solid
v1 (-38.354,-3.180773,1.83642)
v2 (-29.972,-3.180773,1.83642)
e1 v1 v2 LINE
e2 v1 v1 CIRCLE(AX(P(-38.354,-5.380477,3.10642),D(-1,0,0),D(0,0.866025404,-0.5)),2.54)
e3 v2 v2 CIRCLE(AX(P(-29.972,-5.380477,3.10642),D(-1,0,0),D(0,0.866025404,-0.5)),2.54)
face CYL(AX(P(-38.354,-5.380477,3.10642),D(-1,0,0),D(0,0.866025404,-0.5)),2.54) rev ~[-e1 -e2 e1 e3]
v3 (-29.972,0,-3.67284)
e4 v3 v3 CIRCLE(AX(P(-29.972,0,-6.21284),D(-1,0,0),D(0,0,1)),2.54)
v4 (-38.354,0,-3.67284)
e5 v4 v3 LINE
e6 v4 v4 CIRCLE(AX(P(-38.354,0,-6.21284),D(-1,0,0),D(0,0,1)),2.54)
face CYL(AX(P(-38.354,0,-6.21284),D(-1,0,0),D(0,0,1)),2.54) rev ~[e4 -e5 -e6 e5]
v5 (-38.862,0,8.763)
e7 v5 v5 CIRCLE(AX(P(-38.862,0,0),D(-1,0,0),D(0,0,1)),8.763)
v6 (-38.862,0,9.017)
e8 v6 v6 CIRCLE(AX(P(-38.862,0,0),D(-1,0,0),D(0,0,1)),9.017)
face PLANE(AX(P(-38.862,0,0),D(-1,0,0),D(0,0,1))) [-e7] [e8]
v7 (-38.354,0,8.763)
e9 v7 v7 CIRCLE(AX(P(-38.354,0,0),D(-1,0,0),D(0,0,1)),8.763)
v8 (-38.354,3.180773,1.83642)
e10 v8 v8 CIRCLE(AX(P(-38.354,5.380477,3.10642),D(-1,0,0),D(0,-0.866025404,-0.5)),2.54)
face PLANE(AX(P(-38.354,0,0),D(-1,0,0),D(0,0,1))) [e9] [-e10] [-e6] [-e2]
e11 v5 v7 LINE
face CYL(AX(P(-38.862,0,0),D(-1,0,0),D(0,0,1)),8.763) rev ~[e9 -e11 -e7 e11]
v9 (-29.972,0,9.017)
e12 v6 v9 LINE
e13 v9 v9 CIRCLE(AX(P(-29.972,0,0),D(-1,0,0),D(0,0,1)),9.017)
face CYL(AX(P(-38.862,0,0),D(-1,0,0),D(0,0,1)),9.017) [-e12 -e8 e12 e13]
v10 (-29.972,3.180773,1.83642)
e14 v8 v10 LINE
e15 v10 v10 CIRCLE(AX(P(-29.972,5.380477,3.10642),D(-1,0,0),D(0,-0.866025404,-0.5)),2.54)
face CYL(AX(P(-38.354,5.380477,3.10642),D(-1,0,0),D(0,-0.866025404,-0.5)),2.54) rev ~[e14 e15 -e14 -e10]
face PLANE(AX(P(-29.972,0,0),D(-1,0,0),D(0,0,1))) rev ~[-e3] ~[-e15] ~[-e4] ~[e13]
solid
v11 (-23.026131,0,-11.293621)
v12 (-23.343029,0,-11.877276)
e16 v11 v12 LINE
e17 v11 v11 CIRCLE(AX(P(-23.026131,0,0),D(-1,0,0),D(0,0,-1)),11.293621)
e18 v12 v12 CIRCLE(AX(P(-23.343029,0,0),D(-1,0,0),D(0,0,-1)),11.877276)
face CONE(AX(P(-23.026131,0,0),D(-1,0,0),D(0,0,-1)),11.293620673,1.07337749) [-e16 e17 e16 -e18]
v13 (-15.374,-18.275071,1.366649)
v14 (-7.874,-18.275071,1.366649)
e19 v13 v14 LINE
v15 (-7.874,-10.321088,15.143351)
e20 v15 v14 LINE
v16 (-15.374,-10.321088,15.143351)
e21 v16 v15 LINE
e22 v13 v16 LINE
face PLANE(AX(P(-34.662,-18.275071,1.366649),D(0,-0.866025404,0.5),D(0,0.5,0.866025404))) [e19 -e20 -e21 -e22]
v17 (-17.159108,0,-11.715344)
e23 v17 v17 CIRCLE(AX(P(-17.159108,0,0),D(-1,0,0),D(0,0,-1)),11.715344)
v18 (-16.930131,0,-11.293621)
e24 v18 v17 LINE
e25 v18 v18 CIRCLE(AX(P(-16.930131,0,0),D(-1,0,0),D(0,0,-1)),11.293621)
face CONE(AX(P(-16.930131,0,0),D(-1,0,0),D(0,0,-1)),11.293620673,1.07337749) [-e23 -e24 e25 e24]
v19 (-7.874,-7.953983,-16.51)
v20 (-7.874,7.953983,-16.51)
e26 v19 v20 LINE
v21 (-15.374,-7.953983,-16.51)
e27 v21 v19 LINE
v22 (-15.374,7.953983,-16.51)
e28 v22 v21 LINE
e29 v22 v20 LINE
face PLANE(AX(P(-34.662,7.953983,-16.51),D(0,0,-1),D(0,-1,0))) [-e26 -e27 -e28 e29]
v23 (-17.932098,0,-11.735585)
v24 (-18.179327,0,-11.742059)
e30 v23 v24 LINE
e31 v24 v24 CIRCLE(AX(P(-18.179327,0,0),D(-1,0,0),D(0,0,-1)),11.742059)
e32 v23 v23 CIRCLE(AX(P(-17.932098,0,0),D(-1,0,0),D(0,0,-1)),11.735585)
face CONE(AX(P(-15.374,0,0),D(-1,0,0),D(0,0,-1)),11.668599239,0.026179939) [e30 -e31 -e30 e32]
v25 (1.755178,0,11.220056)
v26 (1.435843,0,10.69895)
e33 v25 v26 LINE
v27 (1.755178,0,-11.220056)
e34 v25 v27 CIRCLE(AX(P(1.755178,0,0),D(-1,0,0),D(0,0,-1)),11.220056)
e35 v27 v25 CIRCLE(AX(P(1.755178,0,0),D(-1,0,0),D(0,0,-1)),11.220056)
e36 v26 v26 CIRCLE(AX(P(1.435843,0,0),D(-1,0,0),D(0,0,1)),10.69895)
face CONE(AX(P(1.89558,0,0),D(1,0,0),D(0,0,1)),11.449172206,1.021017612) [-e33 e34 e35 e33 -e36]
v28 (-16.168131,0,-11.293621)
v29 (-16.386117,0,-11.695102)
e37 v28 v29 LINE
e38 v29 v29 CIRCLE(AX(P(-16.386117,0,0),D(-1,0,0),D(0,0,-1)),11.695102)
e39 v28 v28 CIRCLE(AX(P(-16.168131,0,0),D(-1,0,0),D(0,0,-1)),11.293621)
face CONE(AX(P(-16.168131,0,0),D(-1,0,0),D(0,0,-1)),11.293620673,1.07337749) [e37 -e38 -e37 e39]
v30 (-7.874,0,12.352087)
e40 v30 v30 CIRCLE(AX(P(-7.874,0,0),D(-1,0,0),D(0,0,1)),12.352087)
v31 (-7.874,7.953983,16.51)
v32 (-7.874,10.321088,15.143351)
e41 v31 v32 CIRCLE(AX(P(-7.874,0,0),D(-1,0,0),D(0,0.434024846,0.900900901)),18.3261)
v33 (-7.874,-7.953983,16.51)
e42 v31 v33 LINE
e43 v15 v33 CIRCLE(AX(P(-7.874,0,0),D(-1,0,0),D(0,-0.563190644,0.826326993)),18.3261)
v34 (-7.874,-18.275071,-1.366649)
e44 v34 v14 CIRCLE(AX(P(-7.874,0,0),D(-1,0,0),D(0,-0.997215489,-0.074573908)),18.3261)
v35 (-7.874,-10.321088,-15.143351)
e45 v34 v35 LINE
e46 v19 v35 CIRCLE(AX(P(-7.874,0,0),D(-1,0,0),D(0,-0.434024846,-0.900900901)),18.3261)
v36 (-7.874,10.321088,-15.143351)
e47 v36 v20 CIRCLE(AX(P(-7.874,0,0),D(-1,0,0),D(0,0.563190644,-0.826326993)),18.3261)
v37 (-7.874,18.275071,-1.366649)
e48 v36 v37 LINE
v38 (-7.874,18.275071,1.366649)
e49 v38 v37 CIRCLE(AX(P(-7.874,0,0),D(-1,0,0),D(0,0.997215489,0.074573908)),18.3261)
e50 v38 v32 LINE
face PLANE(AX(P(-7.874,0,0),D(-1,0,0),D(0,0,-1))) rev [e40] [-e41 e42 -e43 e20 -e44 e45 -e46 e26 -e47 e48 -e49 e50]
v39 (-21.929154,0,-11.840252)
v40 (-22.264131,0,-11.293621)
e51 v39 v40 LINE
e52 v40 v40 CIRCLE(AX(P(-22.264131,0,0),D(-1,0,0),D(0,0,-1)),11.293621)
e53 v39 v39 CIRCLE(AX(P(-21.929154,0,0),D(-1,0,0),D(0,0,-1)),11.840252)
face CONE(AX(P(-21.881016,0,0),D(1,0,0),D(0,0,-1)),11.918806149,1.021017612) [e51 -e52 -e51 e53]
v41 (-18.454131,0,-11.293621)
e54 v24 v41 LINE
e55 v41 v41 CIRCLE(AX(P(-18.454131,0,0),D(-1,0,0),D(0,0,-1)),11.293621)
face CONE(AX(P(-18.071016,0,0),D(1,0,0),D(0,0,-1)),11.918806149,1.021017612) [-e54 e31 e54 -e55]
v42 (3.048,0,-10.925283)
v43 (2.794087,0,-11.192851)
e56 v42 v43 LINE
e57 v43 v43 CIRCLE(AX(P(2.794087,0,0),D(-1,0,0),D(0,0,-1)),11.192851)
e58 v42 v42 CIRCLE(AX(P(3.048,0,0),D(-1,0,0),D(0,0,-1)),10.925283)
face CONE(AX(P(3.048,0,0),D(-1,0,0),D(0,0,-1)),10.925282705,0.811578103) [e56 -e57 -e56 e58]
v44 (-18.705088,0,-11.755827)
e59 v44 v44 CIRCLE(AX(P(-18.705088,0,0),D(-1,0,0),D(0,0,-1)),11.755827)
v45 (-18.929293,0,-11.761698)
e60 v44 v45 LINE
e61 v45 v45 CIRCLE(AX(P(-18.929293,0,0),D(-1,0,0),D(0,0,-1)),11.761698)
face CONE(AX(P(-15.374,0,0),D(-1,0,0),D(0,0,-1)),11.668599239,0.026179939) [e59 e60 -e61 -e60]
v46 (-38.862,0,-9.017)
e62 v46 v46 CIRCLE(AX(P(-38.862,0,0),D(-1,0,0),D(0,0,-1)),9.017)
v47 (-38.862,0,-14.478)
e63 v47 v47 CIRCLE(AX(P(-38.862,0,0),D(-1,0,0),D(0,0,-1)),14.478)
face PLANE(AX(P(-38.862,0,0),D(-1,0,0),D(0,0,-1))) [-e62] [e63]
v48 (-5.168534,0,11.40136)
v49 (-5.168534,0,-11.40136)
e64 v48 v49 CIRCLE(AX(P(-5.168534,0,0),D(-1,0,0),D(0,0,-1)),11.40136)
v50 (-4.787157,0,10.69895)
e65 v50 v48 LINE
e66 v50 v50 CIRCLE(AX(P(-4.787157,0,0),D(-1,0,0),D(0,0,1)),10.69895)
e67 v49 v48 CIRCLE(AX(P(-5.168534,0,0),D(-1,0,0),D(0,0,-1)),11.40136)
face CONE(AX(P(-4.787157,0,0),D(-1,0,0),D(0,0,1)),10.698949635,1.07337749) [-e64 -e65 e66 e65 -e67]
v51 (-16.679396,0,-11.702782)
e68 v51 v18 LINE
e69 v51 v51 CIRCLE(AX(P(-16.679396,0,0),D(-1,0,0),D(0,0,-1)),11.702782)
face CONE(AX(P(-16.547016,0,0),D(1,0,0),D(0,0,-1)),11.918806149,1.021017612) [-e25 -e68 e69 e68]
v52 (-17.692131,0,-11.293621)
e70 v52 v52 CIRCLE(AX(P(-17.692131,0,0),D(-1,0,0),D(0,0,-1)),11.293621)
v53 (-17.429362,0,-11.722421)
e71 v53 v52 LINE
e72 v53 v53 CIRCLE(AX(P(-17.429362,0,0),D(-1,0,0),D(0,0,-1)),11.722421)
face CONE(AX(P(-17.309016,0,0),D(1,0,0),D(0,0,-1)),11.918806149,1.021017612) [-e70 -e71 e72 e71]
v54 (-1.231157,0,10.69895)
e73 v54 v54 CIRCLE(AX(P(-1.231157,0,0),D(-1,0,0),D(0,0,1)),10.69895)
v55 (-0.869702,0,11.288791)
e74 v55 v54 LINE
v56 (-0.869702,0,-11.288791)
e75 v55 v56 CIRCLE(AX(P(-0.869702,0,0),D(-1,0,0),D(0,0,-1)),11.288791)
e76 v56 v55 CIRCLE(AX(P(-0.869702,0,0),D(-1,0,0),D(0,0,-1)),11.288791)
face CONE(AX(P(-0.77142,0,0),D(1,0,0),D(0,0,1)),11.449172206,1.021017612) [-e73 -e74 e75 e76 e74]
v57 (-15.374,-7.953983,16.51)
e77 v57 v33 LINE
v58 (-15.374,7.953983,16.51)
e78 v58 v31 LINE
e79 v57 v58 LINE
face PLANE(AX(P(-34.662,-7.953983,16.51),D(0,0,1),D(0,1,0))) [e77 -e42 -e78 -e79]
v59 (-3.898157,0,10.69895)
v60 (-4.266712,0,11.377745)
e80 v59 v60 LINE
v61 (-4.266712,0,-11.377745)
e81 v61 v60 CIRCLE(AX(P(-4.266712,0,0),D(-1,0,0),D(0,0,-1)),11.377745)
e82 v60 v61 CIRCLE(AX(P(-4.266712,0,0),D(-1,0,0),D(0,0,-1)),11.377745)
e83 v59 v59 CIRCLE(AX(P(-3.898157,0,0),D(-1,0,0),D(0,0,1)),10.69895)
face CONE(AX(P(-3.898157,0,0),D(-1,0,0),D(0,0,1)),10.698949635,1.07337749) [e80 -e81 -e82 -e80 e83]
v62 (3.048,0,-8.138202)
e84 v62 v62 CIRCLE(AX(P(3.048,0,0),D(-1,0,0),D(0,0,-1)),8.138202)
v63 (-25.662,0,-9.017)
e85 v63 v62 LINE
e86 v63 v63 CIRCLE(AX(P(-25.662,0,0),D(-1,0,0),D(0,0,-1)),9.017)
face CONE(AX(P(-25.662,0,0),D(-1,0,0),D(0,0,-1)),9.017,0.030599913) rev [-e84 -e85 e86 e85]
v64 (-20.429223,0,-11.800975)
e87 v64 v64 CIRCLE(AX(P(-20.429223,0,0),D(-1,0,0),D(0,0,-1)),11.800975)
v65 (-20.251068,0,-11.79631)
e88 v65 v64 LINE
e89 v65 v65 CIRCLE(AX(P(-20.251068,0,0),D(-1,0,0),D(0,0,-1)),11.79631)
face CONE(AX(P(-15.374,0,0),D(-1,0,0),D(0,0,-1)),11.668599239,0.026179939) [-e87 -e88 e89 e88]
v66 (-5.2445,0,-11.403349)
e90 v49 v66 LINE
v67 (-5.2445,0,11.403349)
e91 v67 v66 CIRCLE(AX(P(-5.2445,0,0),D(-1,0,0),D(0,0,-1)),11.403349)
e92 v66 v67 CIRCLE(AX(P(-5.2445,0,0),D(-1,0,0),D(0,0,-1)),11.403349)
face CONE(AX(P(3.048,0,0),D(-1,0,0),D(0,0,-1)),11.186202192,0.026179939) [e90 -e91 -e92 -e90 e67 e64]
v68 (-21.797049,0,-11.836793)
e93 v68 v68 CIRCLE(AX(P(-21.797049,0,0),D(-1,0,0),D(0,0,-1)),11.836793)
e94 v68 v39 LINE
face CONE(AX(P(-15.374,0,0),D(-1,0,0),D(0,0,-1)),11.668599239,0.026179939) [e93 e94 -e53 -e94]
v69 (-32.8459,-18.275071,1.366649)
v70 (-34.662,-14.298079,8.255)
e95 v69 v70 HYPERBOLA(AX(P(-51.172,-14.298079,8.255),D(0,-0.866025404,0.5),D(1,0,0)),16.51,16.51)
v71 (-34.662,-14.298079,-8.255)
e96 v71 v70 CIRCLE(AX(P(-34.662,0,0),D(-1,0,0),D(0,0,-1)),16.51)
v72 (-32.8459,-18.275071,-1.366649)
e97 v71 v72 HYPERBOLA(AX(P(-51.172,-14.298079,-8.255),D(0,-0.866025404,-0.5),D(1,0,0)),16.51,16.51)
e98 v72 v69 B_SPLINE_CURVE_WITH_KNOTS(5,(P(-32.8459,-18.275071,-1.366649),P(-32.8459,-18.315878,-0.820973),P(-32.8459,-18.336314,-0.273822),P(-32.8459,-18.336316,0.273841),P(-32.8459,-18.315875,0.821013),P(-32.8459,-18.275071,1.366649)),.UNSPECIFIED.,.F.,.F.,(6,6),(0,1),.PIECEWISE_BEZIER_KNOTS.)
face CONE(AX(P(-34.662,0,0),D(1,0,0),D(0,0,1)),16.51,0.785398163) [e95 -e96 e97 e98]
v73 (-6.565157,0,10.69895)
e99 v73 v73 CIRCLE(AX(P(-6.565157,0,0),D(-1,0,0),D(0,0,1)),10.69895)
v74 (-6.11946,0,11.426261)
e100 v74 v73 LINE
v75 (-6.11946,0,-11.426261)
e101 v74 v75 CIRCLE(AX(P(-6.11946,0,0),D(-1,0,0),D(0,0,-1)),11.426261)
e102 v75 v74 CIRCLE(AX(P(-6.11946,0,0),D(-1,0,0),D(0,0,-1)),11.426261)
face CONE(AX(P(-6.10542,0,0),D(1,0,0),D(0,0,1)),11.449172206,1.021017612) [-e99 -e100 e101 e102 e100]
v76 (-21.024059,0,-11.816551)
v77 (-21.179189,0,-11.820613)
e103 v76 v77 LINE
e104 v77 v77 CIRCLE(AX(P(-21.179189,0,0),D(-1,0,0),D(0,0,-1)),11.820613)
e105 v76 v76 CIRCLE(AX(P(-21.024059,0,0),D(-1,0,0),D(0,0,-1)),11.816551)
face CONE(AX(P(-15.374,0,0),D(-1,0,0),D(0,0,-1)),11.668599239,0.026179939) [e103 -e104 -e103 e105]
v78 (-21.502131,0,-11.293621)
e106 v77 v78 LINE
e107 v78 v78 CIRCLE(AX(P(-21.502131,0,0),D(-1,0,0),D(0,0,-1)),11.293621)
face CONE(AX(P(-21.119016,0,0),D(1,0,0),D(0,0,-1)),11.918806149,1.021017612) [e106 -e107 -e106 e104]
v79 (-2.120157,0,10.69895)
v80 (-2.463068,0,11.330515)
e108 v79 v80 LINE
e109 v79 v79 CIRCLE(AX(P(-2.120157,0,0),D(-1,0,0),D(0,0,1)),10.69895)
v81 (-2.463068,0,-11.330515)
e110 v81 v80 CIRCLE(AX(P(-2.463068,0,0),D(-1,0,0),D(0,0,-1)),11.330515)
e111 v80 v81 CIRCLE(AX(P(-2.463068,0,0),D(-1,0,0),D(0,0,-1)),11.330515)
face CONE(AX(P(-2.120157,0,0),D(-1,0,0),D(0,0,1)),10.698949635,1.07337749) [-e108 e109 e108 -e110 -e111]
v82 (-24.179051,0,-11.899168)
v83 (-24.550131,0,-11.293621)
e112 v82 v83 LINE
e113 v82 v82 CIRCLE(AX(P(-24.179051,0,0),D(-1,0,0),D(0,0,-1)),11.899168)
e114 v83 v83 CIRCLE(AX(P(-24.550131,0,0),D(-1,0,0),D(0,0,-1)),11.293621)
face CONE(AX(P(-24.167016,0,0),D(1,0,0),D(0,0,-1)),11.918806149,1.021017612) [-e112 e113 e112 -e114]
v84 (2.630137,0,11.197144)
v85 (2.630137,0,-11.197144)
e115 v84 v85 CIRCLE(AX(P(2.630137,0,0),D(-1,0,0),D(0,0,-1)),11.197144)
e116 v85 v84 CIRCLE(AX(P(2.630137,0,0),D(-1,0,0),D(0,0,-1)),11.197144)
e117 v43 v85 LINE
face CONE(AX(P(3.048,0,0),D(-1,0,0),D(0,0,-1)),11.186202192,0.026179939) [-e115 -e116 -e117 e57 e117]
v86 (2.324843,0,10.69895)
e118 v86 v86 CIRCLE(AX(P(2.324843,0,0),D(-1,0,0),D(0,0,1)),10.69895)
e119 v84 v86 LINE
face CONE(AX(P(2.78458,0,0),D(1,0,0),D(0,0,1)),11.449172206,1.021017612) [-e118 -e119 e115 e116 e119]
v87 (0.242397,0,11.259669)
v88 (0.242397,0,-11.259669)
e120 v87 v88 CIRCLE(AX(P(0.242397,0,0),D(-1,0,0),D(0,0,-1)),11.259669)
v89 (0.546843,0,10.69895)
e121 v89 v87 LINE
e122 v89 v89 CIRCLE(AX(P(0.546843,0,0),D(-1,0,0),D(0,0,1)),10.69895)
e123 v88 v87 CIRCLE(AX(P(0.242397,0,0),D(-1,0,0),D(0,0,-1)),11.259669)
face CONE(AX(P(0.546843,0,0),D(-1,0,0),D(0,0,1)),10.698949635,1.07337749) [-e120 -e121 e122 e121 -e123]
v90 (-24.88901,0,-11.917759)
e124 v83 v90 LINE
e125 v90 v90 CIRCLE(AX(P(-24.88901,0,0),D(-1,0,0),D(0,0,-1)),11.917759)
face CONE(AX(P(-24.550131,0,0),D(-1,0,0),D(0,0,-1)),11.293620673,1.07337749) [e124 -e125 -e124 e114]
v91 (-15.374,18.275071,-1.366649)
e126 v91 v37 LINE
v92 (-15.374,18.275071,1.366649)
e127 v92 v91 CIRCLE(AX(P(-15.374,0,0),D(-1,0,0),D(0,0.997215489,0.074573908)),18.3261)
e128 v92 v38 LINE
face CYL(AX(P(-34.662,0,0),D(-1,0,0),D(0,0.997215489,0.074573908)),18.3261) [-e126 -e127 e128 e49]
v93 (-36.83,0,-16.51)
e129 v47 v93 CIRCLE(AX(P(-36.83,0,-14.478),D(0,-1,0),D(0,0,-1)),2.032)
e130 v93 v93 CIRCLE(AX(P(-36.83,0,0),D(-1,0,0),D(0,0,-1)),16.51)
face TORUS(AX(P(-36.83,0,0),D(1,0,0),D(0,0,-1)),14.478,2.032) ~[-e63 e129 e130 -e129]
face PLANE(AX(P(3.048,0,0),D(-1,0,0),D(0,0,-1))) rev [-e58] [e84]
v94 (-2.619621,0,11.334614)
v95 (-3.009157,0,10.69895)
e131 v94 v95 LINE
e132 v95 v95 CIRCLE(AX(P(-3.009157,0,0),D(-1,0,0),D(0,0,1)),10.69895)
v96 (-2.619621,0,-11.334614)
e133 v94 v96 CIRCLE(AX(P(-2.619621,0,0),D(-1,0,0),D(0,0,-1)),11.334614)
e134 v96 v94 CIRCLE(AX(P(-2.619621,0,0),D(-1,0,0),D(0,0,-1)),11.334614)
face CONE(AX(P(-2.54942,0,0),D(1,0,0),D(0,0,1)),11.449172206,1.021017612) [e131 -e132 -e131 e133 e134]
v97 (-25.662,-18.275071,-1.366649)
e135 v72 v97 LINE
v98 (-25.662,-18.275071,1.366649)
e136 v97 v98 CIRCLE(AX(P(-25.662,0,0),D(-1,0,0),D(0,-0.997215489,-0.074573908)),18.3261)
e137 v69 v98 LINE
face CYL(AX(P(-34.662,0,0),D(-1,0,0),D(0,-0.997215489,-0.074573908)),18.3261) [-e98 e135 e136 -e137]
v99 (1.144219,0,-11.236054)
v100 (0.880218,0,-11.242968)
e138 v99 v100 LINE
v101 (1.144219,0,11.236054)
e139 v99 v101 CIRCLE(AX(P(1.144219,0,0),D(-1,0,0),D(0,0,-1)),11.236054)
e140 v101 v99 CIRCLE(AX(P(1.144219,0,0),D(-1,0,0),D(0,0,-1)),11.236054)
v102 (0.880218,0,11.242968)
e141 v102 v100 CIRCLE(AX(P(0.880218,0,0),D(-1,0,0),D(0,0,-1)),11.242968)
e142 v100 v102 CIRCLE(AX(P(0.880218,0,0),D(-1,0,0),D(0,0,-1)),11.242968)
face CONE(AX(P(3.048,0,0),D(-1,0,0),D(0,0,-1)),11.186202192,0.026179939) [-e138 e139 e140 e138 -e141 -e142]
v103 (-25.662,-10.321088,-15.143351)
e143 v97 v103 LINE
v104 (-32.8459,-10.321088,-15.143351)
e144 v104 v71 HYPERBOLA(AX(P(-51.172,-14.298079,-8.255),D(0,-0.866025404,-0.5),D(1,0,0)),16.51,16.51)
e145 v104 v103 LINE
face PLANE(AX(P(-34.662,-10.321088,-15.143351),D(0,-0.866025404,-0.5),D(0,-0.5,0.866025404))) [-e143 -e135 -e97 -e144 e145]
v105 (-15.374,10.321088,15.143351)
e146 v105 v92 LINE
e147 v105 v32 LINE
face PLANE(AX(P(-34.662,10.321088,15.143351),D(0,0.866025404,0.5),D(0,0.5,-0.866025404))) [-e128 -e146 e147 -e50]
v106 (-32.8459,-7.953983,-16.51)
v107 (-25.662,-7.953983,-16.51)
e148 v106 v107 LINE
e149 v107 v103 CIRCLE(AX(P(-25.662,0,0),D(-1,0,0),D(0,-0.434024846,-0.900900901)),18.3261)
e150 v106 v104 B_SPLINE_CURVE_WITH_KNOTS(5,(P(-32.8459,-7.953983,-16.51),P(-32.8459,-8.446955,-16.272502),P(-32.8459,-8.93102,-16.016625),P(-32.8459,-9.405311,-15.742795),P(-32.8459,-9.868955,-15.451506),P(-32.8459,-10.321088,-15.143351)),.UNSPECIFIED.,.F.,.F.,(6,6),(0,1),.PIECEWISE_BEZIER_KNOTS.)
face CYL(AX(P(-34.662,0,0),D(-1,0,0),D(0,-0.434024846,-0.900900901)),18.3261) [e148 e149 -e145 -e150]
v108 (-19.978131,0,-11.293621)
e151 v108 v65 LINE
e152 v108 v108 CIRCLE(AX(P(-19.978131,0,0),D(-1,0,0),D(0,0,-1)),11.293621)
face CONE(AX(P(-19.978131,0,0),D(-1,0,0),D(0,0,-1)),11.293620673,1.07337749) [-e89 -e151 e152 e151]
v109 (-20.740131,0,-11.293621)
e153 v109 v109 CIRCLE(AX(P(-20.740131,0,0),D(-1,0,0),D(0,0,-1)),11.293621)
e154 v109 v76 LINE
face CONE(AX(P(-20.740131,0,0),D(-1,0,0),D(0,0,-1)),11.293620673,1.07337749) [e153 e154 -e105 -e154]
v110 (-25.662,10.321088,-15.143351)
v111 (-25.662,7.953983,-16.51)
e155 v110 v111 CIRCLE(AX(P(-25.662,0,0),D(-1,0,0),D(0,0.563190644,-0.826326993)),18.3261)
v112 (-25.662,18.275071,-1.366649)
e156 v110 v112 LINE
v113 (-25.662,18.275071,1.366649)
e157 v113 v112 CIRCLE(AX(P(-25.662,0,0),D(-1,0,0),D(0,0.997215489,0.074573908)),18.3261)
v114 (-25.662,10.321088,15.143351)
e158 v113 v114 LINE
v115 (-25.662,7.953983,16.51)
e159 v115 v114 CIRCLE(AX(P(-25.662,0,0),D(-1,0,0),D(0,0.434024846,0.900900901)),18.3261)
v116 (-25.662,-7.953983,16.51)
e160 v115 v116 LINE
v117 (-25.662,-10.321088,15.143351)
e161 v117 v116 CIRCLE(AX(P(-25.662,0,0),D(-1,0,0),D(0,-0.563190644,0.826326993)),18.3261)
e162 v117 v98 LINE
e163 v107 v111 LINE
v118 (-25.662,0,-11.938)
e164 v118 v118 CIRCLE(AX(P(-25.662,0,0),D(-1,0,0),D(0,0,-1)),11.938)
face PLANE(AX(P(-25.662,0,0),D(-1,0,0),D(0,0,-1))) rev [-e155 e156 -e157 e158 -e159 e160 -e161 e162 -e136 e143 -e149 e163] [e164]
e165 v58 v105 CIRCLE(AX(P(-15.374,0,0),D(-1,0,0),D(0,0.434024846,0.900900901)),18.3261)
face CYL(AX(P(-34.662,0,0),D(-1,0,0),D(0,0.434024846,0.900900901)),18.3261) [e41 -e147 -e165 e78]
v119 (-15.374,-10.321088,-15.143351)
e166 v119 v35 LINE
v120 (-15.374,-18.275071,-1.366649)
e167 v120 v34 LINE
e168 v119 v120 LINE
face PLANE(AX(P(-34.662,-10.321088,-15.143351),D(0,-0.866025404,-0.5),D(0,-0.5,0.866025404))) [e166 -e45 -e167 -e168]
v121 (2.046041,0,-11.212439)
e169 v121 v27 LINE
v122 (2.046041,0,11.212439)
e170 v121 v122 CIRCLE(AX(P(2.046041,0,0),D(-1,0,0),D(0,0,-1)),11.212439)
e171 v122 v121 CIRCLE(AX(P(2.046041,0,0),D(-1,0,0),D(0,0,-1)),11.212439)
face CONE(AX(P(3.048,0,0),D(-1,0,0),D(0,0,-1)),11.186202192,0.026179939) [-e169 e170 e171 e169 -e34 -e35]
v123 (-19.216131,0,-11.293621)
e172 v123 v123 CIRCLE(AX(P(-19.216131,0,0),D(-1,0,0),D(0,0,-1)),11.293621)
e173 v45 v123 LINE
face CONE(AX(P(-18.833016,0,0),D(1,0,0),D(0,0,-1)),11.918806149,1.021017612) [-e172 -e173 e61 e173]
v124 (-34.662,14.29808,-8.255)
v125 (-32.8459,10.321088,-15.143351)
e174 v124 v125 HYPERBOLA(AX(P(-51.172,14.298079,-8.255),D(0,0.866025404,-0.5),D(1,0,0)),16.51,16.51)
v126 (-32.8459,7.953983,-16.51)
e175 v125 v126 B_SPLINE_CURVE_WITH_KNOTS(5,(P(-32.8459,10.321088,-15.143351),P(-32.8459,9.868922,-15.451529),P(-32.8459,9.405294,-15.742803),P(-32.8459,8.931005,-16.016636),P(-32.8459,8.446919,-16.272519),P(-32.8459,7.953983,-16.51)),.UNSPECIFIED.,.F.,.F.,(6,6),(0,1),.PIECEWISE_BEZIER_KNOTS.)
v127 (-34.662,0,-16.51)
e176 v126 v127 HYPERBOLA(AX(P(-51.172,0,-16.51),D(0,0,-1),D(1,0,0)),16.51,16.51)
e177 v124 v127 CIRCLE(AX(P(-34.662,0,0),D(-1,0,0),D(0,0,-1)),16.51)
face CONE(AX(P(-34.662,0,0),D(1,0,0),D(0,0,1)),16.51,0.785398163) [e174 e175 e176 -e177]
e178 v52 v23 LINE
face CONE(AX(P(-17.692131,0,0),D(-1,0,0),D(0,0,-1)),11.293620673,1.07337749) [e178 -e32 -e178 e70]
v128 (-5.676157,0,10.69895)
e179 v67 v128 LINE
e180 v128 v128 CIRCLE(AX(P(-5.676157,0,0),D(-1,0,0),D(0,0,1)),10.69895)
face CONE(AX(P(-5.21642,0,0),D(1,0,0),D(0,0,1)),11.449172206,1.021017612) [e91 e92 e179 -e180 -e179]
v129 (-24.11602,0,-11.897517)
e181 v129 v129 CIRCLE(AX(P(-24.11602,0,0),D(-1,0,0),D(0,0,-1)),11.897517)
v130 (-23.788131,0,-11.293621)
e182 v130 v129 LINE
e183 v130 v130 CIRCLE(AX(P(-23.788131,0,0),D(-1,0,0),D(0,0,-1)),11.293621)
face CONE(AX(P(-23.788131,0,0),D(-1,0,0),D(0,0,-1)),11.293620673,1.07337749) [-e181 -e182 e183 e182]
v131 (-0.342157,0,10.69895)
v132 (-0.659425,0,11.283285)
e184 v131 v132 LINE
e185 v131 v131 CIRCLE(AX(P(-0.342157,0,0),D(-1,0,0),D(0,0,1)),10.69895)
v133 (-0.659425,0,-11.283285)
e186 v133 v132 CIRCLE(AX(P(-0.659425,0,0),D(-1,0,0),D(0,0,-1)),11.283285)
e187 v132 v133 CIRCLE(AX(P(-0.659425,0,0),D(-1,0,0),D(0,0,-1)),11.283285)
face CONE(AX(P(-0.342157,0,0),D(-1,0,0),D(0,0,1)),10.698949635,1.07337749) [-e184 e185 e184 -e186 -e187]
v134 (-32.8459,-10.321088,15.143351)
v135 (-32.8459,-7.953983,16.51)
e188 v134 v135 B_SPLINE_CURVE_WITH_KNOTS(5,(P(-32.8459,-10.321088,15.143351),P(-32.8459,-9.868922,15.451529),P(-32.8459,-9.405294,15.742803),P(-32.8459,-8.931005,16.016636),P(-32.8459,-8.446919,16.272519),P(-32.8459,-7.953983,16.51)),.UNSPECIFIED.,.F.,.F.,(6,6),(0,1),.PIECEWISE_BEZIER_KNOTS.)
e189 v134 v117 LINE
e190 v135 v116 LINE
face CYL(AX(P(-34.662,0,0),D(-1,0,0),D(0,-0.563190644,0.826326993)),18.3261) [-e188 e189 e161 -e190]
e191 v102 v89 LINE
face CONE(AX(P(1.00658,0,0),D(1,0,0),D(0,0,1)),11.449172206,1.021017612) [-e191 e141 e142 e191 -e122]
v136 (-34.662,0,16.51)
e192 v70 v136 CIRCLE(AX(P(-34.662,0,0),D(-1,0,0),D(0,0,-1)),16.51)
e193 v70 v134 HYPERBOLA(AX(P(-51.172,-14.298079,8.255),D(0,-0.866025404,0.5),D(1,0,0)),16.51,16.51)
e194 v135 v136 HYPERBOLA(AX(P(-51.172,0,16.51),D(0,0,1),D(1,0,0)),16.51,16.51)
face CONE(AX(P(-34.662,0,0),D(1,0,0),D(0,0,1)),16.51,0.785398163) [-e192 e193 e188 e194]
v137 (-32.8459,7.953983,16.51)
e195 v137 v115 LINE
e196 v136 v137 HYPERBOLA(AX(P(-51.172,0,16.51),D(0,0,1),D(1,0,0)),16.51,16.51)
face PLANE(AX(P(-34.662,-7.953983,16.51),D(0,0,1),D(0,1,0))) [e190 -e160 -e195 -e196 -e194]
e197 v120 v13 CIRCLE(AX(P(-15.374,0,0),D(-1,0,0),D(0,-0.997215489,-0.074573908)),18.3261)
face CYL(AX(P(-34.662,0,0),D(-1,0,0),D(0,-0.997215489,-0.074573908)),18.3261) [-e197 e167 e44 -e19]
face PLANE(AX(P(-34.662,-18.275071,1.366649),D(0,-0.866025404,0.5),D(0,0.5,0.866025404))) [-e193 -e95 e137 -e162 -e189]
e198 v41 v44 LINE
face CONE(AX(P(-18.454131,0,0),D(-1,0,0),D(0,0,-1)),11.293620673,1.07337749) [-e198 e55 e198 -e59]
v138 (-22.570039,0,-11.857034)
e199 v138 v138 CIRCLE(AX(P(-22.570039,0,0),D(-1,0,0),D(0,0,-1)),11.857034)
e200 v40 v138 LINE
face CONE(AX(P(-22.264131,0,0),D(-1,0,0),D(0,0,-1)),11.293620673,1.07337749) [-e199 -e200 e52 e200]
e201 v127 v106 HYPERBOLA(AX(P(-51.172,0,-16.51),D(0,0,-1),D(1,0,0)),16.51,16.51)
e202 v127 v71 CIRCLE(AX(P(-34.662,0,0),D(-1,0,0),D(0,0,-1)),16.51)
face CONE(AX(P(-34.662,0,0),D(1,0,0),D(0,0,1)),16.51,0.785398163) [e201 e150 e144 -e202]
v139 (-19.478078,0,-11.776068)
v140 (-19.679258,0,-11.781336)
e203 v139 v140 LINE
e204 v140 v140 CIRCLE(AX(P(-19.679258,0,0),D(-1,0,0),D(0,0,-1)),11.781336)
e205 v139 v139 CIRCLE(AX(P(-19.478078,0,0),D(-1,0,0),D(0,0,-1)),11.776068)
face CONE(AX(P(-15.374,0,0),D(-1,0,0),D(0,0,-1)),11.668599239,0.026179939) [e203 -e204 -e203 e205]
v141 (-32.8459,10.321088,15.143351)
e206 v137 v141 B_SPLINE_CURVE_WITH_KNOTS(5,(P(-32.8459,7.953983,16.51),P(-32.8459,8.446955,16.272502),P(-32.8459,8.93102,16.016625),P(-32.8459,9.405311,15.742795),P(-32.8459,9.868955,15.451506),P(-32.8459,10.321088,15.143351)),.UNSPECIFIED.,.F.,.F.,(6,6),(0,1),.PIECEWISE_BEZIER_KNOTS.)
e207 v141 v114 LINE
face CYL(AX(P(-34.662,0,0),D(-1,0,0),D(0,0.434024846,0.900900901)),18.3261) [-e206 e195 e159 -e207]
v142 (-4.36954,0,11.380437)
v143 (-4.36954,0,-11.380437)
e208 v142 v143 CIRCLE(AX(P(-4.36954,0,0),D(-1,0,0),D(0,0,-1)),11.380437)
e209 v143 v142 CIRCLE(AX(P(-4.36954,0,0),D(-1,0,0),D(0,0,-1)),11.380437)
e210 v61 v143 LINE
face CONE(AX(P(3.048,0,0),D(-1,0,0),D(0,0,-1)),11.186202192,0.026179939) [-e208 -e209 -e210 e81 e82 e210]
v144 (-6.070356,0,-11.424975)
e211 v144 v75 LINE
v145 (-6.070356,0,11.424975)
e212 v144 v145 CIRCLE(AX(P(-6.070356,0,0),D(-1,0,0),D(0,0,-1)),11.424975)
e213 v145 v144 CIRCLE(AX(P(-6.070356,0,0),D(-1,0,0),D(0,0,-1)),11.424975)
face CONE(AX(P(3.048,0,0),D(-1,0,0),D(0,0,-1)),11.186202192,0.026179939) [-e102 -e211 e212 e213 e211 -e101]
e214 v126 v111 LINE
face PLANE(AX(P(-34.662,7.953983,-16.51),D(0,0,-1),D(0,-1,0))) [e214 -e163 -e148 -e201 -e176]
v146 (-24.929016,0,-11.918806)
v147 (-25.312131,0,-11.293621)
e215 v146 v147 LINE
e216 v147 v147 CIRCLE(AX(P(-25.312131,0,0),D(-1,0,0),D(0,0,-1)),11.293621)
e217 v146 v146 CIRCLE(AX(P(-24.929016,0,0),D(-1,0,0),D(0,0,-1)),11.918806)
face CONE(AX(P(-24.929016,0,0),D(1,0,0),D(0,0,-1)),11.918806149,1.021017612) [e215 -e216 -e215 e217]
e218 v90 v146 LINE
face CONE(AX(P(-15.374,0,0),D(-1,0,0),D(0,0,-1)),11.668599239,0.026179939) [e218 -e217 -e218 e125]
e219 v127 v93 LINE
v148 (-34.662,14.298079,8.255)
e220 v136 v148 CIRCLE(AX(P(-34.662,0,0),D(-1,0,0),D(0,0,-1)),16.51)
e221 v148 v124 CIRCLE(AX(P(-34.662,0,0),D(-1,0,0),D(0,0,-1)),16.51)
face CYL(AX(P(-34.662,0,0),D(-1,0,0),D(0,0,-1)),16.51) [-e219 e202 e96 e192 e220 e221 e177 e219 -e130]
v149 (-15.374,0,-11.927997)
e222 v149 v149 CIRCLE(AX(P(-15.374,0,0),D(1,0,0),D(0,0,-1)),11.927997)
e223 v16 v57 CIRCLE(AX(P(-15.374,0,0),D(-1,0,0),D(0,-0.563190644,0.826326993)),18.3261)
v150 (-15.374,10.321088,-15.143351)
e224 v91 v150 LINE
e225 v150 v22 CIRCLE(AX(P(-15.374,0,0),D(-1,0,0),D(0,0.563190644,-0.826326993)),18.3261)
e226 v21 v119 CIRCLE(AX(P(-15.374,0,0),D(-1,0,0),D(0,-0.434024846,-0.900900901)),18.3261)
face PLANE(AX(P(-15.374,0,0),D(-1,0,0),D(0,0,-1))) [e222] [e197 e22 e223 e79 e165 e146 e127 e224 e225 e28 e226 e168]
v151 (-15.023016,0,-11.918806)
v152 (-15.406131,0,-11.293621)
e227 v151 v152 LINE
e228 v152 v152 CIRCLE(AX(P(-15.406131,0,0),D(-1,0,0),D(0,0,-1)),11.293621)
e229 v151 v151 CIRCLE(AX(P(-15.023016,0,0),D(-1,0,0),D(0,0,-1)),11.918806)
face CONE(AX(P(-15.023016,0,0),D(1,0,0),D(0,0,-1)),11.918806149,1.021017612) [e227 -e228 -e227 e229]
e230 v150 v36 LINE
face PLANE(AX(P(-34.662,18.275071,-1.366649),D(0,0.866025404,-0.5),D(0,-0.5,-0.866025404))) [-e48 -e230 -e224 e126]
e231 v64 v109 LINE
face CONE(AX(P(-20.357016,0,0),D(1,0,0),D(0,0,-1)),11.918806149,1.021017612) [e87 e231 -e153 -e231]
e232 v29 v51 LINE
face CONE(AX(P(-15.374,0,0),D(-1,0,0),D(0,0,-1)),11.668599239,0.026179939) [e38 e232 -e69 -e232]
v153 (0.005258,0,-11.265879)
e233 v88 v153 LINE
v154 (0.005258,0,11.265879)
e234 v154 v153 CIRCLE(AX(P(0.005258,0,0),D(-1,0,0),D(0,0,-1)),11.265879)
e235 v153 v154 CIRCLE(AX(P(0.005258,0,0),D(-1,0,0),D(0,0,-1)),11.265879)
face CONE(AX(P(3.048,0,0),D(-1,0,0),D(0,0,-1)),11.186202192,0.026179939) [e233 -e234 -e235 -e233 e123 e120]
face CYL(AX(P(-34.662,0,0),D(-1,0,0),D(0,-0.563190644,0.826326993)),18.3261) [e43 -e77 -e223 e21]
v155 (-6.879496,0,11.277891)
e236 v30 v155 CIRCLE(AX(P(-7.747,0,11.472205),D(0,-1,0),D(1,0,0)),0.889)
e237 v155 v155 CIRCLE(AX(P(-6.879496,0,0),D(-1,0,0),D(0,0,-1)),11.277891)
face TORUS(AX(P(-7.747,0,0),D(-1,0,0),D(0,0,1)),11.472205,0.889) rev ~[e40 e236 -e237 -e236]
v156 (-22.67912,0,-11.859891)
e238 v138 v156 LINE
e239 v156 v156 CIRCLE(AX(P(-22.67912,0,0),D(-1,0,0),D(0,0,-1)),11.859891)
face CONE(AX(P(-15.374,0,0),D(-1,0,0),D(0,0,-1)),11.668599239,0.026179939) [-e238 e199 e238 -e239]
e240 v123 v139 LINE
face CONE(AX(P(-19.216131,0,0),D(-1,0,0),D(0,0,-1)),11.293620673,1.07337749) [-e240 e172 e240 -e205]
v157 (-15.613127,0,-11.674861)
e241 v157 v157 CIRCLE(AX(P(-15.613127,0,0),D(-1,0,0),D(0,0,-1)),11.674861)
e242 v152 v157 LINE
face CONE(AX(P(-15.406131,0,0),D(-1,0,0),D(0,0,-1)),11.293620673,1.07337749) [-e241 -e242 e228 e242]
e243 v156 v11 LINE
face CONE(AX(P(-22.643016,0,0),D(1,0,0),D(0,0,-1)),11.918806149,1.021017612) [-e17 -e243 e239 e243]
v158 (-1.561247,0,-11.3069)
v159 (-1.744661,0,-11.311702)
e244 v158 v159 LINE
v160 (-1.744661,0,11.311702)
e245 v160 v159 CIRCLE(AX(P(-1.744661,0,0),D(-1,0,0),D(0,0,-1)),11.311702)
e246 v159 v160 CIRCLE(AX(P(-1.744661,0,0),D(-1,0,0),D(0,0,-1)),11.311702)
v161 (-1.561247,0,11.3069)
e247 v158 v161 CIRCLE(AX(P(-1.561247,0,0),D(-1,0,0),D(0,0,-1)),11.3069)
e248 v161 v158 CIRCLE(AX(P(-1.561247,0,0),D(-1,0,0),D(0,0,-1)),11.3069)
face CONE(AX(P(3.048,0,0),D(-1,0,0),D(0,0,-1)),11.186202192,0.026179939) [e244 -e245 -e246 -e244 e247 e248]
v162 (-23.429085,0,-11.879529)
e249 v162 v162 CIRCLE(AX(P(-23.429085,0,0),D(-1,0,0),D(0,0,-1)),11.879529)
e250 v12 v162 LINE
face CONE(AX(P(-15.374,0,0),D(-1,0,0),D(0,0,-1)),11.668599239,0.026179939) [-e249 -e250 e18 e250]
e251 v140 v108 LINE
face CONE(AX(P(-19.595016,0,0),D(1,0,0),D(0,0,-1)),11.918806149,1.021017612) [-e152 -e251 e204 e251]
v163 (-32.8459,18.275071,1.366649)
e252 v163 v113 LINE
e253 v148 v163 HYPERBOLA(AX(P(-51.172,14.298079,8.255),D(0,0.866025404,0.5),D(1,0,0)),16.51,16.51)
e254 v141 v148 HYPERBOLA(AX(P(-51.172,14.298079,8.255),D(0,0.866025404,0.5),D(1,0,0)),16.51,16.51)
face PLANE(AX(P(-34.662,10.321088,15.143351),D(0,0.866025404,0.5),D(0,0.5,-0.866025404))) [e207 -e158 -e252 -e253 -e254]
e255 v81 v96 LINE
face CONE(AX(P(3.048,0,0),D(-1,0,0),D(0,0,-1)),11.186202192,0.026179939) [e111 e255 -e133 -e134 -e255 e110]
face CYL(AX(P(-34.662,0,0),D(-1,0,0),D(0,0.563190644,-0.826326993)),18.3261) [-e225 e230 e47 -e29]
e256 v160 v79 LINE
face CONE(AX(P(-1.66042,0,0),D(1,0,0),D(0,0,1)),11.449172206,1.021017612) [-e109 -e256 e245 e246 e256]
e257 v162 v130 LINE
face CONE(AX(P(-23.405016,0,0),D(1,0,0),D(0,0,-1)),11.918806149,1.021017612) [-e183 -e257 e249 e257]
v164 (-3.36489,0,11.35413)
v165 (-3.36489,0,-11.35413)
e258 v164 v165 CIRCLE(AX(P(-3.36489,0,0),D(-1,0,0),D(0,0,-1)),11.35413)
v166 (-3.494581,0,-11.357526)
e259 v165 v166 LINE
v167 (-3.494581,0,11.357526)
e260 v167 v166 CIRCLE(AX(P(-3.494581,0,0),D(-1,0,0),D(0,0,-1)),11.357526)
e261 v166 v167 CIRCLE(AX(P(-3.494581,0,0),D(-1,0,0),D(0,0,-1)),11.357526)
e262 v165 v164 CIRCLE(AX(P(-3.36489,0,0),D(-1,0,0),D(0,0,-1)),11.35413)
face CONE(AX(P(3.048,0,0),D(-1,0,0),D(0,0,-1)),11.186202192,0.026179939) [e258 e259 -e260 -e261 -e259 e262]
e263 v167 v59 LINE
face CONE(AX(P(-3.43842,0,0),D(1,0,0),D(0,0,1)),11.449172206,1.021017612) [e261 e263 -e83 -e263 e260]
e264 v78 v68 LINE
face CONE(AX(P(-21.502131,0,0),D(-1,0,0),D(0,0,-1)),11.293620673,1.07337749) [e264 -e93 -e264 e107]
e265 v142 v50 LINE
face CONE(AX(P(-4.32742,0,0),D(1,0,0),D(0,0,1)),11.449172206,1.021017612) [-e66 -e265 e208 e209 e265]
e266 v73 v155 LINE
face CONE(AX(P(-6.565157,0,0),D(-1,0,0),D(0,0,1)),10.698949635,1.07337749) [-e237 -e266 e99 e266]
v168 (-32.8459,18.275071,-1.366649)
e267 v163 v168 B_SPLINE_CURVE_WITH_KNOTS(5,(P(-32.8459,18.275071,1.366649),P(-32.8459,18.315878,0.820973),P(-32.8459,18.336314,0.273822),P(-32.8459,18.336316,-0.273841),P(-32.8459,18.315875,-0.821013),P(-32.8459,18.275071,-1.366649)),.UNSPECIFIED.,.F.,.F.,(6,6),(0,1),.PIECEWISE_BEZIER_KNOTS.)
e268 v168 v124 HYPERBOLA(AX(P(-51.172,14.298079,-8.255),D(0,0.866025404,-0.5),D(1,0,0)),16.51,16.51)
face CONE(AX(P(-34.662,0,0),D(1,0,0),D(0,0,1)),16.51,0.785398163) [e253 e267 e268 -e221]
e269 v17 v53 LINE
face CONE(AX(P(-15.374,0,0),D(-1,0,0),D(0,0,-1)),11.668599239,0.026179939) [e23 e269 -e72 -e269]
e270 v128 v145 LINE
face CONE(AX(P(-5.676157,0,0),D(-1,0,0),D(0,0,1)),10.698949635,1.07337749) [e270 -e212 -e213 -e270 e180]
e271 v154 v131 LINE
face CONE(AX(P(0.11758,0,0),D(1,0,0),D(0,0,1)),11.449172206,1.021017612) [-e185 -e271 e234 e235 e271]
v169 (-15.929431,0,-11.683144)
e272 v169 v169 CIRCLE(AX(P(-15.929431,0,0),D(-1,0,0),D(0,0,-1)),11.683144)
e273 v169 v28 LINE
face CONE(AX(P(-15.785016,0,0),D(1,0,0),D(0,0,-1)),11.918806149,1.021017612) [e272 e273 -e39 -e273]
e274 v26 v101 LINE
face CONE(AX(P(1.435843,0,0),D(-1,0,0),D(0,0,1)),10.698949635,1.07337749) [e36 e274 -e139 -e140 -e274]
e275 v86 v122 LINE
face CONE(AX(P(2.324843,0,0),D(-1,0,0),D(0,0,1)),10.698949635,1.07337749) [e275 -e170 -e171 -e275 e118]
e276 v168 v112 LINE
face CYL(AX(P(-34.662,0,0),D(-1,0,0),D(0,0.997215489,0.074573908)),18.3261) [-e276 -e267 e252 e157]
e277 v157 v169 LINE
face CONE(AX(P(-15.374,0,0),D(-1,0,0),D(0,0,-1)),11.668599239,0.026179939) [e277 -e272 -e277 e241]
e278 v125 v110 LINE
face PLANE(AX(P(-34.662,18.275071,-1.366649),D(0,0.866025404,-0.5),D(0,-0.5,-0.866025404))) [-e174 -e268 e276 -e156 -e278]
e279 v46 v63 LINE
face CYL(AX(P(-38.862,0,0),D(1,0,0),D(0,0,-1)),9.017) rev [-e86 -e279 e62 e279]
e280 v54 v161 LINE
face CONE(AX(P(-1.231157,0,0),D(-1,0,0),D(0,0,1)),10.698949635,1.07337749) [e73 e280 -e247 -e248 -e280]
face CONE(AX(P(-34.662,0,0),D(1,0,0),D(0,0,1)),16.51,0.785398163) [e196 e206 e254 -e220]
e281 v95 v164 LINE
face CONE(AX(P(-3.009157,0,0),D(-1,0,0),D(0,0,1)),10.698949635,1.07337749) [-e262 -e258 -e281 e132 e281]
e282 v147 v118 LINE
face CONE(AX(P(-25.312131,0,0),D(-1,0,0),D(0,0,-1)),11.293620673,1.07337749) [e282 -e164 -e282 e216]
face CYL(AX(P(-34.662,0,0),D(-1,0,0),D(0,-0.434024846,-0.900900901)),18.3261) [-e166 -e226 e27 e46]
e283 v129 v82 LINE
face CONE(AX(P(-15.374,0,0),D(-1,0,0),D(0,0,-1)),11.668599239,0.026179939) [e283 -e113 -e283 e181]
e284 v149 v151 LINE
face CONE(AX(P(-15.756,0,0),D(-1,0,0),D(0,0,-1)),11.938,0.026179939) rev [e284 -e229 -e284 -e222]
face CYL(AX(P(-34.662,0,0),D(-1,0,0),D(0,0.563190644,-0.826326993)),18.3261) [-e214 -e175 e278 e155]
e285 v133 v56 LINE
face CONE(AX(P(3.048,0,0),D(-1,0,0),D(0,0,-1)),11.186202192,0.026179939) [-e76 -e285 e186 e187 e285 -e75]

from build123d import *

# Parameters (mm, degrees)
SKETCH12_OUTSIDE_W = 88.514
SKETCH12_OUTSIDE_H = 88.514
CUT_EXTRUDE2_DEPTH = 38.71
FILLET4_R          = 2.032
SKETCH19_OUTSIDE_W = 55.962
SKETCH19_OUTSIDE_H = 59.594
SKETCH19_OUTSIDE_R = 16.51
CUT_EXTRUDE3_DEPTH = 3.99796
CUT_EXTRUDE3_DRAFT = -45
CHAMFER1_SIZE      = 0.260919487
CHAMFER1_SIZE2     = 0.254
SKETCH21_R         = 9.017
PLUG_DEPTH         = 8.89
SKETCH22_R         = 8.763
CUT_EXTRUDE4_DEPTH = 0.508
SKETCH27_R         = 2.54
PLUGHOLES_DEPTH    = 42.402
CIRPATTERN1_COUNT  = 3
LPATTERN1_COUNT    = 14
LPATTERN1_PITCH    = 0.762
LPATTERN2_COUNT    = 12
LPATTERN2_PITCH    = 0.889
SKETCH32_R         = 0.889


with BuildPart() as part:
    # Sketch10 → Revolve2 (revolve)
    with BuildSketch(Plane.XY, mode=Mode.PRIVATE) as revolve2_sk:
        Polygon((-38.862, 9.017), (-25.662, 9.017), (3.048, 8.138202192), (3.048, 11.186202192), (-7.874, 11.472204827), (-7.874, 33.02), (-15.374, 33.02), (-15.374, 11.668599239), (-25.662, 11.938), (-25.662, 33.02), (-34.662, 33.02), (-34.662, 16.51), (-38.862, 16.51), align=None)
    revolve(revolve2_sk.sketch.rotate(Axis((0, 0, 0), (-1, 0, 0)), 90), axis=Axis((0, 0, 0), (-1, 0, 0)))  # turned: the seam where the file's is

    # Sketch12 outside → Cut-Extrude2 (cut, through all)
    with BuildSketch(Plane.ZY.offset(34.662)):
        Rectangle(SKETCH12_OUTSIDE_W, SKETCH12_OUTSIDE_H)
        with BuildLine():
            Line((-1.366648898, 18.27507078), (-15.143351102, 10.321088053))
            ThreePointArc((-15.143351102, 10.321088053), (-15.870868152, 9.16305), (-16.51, 7.953982726))
            Line((-16.51, 7.953982726), (-16.51, -7.953982726))
            ThreePointArc((-16.51, -7.953982726), (-15.870868152, -9.16305), (-15.143351102, -10.321088053))
            Line((-15.143351102, -10.321088053), (-1.366648898, -18.27507078))
            ThreePointArc((-1.366648898, -18.27507078), (0, -18.3261), (1.366648898, -18.27507078))
            Line((1.366648898, -18.27507078), (15.143351102, -10.321088053))
            ThreePointArc((15.143351102, -10.321088053), (15.870868152, -9.16305), (16.51, -7.953982726))
            Line((16.51, -7.953982726), (16.51, 7.953982726))
            ThreePointArc((16.51, 7.953982726), (15.870868152, 9.16305), (15.143351102, 10.321088053))
            Line((15.143351102, 10.321088053), (1.366648898, 18.27507078))
            ThreePointArc((1.366648898, 18.27507078), (0, 18.3261), (-1.366648898, 18.27507078))
        make_face(mode=Mode.SUBTRACT)
    extrude(amount=-CUT_EXTRUDE2_DEPTH, mode=Mode.SUBTRACT)

    # Fillet4
    fillet4_edges = [part.edges().sort_by_distance(p)[0] for p in [
        (-38.862, 0, 16.51),
    ]]
    fillet(fillet4_edges, radius=FILLET4_R)


with BuildPart() as cut_extrude3_tool:
    # Sketch19 outside → Cut-Extrude3 (with draft: the straight prism first)
    with BuildSketch(Plane.ZY.offset(34.662)):
        Rectangle(SKETCH19_OUTSIDE_W, SKETCH19_OUTSIDE_H)
        Circle(SKETCH19_OUTSIDE_R, mode=Mode.SUBTRACT)
    extrude(amount=-CUT_EXTRUDE3_DEPTH)
    # Cut-Extrude3: the draft: its side faces are tilted about the plane it starts from
    cut_extrude3_sides = [cut_extrude3_tool.faces().sort_by_distance(p)[0] for p in [
        (-32.66302, -29.797, 0),
        (-32.66302, 0, 27.981),
        (-32.66302, 29.797, 0),
        (-32.66302, 0, -27.981),
        (-32.66302, 0, -16.51),
    ]]
    draft(cut_extrude3_sides, Plane.ZY.offset(34.662), CUT_EXTRUDE3_DRAFT)


with BuildPart() as part_1:
    add(part.part)

    # Cut-Extrude3: cut by cut_extrude3_tool
    add(cut_extrude3_tool.part, mode=Mode.SUBTRACT)

    # Chamfer1
    chamfer1_edges = [part_1.edges().sort_by_distance(p)[0] for p in [
        (3.048, 0, 11.186202192),
    ]]
    chamfer1_side = [part_1.faces().sort_by_distance(p)[0] for p in [
        (3.048, 0, 8.454595769),
    ]]
    chamfer(chamfer1_edges, length=CHAMFER1_SIZE, length2=CHAMFER1_SIZE2, reference=chamfer1_side[0])

    # Sketch29 → Cut-Revolve1 (revolve, cut)
    with BuildSketch(Plane.XY, mode=Mode.PRIVATE) as cut_revolve1_sk:
        Polygon((-25.662, 11.938), (-24.929016419, 11.918806149), (-25.312130572, 11.293620673), align=None)
    cut_revolve1 = revolve(cut_revolve1_sk.sketch.rotate(Axis((0, 0, 0), (-1, 0, 0)), 90), axis=Axis((0, 0, 0), (-1, 0, 0)), mode=Mode.SUBTRACT)  # turned: the seam where the file's is

    # LPattern1: Cut-Revolve1 ×14
    with Locations(*[(i * LPATTERN1_PITCH, 0, 0) for i in range(1, LPATTERN1_COUNT)]):
        add(cut_revolve1, mode=Mode.SUBTRACT)

    # Sketch30 → Cut-Revolve2 (revolve, cut)
    with BuildSketch(Plane.XY, mode=Mode.PRIVATE) as cut_revolve2_sk:
        Polygon((-7.874, 11.472204827), (-6.994419703, 11.449172206), (-7.454156686, 10.698949635), align=None)
    cut_revolve2 = revolve(cut_revolve2_sk.sketch.rotate(Axis((0, 0, 0), (-1, 0, 0)), 270), axis=Axis((0, 0, 0), (-1, 0, 0)), mode=Mode.SUBTRACT)  # turned: the seam where the file's is

    # LPattern2: Cut-Revolve2 ×12
    with Locations(*[(i * LPATTERN2_PITCH, 0, 0) for i in range(1, LPATTERN2_COUNT)]):
        add(cut_revolve2, mode=Mode.SUBTRACT)

    # Sketch32 → Cut-Revolve3 (revolve, cut)
    with BuildSketch(Plane.XY, mode=Mode.PRIVATE) as cut_revolve3_sk:
        with Locations((-7.747, 11.472204827)):
            Circle(SKETCH32_R)
    revolve(cut_revolve3_sk.sketch.rotate(Axis((0, 0, 0), (-1, 0, 0)), 270), axis=Axis((0, 0, 0), (-1, 0, 0)), mode=Mode.SUBTRACT)  # turned: the seam where the file's is


with BuildPart() as body_2:
    # Sketch21 → plug (new body)
    with BuildSketch(Plane.ZY.offset(38.862)):
        Circle(SKETCH21_R)
    extrude(amount=-PLUG_DEPTH)

    # Sketch22 → Cut-Extrude4 (cut)
    with BuildSketch(Plane.ZY.offset(38.862)):
        Circle(SKETCH22_R)
    extrude(amount=-CUT_EXTRUDE4_DEPTH, mode=Mode.SUBTRACT)

    # Sketch27 → plugholes (cut, through all)
    with BuildSketch(Plane.ZY.offset(38.354)):
        with Locations((-6.21284, 0)):
            Circle(SKETCH27_R)
    plugholes = extrude(amount=-PLUGHOLES_DEPTH, mode=Mode.SUBTRACT)

    # CirPattern1: plugholes ×3 about axis
    cirpattern1_axis = Axis((0, 0, 0), (1, 0, 0))
    for i in range(1, CIRPATTERN1_COUNT):
        add(plugholes.rotate(cirpattern1_axis, i * 360 / CIRPATTERN1_COUNT), mode=Mode.SUBTRACT)


solid = Compound([part_1.part, body_2.part])
